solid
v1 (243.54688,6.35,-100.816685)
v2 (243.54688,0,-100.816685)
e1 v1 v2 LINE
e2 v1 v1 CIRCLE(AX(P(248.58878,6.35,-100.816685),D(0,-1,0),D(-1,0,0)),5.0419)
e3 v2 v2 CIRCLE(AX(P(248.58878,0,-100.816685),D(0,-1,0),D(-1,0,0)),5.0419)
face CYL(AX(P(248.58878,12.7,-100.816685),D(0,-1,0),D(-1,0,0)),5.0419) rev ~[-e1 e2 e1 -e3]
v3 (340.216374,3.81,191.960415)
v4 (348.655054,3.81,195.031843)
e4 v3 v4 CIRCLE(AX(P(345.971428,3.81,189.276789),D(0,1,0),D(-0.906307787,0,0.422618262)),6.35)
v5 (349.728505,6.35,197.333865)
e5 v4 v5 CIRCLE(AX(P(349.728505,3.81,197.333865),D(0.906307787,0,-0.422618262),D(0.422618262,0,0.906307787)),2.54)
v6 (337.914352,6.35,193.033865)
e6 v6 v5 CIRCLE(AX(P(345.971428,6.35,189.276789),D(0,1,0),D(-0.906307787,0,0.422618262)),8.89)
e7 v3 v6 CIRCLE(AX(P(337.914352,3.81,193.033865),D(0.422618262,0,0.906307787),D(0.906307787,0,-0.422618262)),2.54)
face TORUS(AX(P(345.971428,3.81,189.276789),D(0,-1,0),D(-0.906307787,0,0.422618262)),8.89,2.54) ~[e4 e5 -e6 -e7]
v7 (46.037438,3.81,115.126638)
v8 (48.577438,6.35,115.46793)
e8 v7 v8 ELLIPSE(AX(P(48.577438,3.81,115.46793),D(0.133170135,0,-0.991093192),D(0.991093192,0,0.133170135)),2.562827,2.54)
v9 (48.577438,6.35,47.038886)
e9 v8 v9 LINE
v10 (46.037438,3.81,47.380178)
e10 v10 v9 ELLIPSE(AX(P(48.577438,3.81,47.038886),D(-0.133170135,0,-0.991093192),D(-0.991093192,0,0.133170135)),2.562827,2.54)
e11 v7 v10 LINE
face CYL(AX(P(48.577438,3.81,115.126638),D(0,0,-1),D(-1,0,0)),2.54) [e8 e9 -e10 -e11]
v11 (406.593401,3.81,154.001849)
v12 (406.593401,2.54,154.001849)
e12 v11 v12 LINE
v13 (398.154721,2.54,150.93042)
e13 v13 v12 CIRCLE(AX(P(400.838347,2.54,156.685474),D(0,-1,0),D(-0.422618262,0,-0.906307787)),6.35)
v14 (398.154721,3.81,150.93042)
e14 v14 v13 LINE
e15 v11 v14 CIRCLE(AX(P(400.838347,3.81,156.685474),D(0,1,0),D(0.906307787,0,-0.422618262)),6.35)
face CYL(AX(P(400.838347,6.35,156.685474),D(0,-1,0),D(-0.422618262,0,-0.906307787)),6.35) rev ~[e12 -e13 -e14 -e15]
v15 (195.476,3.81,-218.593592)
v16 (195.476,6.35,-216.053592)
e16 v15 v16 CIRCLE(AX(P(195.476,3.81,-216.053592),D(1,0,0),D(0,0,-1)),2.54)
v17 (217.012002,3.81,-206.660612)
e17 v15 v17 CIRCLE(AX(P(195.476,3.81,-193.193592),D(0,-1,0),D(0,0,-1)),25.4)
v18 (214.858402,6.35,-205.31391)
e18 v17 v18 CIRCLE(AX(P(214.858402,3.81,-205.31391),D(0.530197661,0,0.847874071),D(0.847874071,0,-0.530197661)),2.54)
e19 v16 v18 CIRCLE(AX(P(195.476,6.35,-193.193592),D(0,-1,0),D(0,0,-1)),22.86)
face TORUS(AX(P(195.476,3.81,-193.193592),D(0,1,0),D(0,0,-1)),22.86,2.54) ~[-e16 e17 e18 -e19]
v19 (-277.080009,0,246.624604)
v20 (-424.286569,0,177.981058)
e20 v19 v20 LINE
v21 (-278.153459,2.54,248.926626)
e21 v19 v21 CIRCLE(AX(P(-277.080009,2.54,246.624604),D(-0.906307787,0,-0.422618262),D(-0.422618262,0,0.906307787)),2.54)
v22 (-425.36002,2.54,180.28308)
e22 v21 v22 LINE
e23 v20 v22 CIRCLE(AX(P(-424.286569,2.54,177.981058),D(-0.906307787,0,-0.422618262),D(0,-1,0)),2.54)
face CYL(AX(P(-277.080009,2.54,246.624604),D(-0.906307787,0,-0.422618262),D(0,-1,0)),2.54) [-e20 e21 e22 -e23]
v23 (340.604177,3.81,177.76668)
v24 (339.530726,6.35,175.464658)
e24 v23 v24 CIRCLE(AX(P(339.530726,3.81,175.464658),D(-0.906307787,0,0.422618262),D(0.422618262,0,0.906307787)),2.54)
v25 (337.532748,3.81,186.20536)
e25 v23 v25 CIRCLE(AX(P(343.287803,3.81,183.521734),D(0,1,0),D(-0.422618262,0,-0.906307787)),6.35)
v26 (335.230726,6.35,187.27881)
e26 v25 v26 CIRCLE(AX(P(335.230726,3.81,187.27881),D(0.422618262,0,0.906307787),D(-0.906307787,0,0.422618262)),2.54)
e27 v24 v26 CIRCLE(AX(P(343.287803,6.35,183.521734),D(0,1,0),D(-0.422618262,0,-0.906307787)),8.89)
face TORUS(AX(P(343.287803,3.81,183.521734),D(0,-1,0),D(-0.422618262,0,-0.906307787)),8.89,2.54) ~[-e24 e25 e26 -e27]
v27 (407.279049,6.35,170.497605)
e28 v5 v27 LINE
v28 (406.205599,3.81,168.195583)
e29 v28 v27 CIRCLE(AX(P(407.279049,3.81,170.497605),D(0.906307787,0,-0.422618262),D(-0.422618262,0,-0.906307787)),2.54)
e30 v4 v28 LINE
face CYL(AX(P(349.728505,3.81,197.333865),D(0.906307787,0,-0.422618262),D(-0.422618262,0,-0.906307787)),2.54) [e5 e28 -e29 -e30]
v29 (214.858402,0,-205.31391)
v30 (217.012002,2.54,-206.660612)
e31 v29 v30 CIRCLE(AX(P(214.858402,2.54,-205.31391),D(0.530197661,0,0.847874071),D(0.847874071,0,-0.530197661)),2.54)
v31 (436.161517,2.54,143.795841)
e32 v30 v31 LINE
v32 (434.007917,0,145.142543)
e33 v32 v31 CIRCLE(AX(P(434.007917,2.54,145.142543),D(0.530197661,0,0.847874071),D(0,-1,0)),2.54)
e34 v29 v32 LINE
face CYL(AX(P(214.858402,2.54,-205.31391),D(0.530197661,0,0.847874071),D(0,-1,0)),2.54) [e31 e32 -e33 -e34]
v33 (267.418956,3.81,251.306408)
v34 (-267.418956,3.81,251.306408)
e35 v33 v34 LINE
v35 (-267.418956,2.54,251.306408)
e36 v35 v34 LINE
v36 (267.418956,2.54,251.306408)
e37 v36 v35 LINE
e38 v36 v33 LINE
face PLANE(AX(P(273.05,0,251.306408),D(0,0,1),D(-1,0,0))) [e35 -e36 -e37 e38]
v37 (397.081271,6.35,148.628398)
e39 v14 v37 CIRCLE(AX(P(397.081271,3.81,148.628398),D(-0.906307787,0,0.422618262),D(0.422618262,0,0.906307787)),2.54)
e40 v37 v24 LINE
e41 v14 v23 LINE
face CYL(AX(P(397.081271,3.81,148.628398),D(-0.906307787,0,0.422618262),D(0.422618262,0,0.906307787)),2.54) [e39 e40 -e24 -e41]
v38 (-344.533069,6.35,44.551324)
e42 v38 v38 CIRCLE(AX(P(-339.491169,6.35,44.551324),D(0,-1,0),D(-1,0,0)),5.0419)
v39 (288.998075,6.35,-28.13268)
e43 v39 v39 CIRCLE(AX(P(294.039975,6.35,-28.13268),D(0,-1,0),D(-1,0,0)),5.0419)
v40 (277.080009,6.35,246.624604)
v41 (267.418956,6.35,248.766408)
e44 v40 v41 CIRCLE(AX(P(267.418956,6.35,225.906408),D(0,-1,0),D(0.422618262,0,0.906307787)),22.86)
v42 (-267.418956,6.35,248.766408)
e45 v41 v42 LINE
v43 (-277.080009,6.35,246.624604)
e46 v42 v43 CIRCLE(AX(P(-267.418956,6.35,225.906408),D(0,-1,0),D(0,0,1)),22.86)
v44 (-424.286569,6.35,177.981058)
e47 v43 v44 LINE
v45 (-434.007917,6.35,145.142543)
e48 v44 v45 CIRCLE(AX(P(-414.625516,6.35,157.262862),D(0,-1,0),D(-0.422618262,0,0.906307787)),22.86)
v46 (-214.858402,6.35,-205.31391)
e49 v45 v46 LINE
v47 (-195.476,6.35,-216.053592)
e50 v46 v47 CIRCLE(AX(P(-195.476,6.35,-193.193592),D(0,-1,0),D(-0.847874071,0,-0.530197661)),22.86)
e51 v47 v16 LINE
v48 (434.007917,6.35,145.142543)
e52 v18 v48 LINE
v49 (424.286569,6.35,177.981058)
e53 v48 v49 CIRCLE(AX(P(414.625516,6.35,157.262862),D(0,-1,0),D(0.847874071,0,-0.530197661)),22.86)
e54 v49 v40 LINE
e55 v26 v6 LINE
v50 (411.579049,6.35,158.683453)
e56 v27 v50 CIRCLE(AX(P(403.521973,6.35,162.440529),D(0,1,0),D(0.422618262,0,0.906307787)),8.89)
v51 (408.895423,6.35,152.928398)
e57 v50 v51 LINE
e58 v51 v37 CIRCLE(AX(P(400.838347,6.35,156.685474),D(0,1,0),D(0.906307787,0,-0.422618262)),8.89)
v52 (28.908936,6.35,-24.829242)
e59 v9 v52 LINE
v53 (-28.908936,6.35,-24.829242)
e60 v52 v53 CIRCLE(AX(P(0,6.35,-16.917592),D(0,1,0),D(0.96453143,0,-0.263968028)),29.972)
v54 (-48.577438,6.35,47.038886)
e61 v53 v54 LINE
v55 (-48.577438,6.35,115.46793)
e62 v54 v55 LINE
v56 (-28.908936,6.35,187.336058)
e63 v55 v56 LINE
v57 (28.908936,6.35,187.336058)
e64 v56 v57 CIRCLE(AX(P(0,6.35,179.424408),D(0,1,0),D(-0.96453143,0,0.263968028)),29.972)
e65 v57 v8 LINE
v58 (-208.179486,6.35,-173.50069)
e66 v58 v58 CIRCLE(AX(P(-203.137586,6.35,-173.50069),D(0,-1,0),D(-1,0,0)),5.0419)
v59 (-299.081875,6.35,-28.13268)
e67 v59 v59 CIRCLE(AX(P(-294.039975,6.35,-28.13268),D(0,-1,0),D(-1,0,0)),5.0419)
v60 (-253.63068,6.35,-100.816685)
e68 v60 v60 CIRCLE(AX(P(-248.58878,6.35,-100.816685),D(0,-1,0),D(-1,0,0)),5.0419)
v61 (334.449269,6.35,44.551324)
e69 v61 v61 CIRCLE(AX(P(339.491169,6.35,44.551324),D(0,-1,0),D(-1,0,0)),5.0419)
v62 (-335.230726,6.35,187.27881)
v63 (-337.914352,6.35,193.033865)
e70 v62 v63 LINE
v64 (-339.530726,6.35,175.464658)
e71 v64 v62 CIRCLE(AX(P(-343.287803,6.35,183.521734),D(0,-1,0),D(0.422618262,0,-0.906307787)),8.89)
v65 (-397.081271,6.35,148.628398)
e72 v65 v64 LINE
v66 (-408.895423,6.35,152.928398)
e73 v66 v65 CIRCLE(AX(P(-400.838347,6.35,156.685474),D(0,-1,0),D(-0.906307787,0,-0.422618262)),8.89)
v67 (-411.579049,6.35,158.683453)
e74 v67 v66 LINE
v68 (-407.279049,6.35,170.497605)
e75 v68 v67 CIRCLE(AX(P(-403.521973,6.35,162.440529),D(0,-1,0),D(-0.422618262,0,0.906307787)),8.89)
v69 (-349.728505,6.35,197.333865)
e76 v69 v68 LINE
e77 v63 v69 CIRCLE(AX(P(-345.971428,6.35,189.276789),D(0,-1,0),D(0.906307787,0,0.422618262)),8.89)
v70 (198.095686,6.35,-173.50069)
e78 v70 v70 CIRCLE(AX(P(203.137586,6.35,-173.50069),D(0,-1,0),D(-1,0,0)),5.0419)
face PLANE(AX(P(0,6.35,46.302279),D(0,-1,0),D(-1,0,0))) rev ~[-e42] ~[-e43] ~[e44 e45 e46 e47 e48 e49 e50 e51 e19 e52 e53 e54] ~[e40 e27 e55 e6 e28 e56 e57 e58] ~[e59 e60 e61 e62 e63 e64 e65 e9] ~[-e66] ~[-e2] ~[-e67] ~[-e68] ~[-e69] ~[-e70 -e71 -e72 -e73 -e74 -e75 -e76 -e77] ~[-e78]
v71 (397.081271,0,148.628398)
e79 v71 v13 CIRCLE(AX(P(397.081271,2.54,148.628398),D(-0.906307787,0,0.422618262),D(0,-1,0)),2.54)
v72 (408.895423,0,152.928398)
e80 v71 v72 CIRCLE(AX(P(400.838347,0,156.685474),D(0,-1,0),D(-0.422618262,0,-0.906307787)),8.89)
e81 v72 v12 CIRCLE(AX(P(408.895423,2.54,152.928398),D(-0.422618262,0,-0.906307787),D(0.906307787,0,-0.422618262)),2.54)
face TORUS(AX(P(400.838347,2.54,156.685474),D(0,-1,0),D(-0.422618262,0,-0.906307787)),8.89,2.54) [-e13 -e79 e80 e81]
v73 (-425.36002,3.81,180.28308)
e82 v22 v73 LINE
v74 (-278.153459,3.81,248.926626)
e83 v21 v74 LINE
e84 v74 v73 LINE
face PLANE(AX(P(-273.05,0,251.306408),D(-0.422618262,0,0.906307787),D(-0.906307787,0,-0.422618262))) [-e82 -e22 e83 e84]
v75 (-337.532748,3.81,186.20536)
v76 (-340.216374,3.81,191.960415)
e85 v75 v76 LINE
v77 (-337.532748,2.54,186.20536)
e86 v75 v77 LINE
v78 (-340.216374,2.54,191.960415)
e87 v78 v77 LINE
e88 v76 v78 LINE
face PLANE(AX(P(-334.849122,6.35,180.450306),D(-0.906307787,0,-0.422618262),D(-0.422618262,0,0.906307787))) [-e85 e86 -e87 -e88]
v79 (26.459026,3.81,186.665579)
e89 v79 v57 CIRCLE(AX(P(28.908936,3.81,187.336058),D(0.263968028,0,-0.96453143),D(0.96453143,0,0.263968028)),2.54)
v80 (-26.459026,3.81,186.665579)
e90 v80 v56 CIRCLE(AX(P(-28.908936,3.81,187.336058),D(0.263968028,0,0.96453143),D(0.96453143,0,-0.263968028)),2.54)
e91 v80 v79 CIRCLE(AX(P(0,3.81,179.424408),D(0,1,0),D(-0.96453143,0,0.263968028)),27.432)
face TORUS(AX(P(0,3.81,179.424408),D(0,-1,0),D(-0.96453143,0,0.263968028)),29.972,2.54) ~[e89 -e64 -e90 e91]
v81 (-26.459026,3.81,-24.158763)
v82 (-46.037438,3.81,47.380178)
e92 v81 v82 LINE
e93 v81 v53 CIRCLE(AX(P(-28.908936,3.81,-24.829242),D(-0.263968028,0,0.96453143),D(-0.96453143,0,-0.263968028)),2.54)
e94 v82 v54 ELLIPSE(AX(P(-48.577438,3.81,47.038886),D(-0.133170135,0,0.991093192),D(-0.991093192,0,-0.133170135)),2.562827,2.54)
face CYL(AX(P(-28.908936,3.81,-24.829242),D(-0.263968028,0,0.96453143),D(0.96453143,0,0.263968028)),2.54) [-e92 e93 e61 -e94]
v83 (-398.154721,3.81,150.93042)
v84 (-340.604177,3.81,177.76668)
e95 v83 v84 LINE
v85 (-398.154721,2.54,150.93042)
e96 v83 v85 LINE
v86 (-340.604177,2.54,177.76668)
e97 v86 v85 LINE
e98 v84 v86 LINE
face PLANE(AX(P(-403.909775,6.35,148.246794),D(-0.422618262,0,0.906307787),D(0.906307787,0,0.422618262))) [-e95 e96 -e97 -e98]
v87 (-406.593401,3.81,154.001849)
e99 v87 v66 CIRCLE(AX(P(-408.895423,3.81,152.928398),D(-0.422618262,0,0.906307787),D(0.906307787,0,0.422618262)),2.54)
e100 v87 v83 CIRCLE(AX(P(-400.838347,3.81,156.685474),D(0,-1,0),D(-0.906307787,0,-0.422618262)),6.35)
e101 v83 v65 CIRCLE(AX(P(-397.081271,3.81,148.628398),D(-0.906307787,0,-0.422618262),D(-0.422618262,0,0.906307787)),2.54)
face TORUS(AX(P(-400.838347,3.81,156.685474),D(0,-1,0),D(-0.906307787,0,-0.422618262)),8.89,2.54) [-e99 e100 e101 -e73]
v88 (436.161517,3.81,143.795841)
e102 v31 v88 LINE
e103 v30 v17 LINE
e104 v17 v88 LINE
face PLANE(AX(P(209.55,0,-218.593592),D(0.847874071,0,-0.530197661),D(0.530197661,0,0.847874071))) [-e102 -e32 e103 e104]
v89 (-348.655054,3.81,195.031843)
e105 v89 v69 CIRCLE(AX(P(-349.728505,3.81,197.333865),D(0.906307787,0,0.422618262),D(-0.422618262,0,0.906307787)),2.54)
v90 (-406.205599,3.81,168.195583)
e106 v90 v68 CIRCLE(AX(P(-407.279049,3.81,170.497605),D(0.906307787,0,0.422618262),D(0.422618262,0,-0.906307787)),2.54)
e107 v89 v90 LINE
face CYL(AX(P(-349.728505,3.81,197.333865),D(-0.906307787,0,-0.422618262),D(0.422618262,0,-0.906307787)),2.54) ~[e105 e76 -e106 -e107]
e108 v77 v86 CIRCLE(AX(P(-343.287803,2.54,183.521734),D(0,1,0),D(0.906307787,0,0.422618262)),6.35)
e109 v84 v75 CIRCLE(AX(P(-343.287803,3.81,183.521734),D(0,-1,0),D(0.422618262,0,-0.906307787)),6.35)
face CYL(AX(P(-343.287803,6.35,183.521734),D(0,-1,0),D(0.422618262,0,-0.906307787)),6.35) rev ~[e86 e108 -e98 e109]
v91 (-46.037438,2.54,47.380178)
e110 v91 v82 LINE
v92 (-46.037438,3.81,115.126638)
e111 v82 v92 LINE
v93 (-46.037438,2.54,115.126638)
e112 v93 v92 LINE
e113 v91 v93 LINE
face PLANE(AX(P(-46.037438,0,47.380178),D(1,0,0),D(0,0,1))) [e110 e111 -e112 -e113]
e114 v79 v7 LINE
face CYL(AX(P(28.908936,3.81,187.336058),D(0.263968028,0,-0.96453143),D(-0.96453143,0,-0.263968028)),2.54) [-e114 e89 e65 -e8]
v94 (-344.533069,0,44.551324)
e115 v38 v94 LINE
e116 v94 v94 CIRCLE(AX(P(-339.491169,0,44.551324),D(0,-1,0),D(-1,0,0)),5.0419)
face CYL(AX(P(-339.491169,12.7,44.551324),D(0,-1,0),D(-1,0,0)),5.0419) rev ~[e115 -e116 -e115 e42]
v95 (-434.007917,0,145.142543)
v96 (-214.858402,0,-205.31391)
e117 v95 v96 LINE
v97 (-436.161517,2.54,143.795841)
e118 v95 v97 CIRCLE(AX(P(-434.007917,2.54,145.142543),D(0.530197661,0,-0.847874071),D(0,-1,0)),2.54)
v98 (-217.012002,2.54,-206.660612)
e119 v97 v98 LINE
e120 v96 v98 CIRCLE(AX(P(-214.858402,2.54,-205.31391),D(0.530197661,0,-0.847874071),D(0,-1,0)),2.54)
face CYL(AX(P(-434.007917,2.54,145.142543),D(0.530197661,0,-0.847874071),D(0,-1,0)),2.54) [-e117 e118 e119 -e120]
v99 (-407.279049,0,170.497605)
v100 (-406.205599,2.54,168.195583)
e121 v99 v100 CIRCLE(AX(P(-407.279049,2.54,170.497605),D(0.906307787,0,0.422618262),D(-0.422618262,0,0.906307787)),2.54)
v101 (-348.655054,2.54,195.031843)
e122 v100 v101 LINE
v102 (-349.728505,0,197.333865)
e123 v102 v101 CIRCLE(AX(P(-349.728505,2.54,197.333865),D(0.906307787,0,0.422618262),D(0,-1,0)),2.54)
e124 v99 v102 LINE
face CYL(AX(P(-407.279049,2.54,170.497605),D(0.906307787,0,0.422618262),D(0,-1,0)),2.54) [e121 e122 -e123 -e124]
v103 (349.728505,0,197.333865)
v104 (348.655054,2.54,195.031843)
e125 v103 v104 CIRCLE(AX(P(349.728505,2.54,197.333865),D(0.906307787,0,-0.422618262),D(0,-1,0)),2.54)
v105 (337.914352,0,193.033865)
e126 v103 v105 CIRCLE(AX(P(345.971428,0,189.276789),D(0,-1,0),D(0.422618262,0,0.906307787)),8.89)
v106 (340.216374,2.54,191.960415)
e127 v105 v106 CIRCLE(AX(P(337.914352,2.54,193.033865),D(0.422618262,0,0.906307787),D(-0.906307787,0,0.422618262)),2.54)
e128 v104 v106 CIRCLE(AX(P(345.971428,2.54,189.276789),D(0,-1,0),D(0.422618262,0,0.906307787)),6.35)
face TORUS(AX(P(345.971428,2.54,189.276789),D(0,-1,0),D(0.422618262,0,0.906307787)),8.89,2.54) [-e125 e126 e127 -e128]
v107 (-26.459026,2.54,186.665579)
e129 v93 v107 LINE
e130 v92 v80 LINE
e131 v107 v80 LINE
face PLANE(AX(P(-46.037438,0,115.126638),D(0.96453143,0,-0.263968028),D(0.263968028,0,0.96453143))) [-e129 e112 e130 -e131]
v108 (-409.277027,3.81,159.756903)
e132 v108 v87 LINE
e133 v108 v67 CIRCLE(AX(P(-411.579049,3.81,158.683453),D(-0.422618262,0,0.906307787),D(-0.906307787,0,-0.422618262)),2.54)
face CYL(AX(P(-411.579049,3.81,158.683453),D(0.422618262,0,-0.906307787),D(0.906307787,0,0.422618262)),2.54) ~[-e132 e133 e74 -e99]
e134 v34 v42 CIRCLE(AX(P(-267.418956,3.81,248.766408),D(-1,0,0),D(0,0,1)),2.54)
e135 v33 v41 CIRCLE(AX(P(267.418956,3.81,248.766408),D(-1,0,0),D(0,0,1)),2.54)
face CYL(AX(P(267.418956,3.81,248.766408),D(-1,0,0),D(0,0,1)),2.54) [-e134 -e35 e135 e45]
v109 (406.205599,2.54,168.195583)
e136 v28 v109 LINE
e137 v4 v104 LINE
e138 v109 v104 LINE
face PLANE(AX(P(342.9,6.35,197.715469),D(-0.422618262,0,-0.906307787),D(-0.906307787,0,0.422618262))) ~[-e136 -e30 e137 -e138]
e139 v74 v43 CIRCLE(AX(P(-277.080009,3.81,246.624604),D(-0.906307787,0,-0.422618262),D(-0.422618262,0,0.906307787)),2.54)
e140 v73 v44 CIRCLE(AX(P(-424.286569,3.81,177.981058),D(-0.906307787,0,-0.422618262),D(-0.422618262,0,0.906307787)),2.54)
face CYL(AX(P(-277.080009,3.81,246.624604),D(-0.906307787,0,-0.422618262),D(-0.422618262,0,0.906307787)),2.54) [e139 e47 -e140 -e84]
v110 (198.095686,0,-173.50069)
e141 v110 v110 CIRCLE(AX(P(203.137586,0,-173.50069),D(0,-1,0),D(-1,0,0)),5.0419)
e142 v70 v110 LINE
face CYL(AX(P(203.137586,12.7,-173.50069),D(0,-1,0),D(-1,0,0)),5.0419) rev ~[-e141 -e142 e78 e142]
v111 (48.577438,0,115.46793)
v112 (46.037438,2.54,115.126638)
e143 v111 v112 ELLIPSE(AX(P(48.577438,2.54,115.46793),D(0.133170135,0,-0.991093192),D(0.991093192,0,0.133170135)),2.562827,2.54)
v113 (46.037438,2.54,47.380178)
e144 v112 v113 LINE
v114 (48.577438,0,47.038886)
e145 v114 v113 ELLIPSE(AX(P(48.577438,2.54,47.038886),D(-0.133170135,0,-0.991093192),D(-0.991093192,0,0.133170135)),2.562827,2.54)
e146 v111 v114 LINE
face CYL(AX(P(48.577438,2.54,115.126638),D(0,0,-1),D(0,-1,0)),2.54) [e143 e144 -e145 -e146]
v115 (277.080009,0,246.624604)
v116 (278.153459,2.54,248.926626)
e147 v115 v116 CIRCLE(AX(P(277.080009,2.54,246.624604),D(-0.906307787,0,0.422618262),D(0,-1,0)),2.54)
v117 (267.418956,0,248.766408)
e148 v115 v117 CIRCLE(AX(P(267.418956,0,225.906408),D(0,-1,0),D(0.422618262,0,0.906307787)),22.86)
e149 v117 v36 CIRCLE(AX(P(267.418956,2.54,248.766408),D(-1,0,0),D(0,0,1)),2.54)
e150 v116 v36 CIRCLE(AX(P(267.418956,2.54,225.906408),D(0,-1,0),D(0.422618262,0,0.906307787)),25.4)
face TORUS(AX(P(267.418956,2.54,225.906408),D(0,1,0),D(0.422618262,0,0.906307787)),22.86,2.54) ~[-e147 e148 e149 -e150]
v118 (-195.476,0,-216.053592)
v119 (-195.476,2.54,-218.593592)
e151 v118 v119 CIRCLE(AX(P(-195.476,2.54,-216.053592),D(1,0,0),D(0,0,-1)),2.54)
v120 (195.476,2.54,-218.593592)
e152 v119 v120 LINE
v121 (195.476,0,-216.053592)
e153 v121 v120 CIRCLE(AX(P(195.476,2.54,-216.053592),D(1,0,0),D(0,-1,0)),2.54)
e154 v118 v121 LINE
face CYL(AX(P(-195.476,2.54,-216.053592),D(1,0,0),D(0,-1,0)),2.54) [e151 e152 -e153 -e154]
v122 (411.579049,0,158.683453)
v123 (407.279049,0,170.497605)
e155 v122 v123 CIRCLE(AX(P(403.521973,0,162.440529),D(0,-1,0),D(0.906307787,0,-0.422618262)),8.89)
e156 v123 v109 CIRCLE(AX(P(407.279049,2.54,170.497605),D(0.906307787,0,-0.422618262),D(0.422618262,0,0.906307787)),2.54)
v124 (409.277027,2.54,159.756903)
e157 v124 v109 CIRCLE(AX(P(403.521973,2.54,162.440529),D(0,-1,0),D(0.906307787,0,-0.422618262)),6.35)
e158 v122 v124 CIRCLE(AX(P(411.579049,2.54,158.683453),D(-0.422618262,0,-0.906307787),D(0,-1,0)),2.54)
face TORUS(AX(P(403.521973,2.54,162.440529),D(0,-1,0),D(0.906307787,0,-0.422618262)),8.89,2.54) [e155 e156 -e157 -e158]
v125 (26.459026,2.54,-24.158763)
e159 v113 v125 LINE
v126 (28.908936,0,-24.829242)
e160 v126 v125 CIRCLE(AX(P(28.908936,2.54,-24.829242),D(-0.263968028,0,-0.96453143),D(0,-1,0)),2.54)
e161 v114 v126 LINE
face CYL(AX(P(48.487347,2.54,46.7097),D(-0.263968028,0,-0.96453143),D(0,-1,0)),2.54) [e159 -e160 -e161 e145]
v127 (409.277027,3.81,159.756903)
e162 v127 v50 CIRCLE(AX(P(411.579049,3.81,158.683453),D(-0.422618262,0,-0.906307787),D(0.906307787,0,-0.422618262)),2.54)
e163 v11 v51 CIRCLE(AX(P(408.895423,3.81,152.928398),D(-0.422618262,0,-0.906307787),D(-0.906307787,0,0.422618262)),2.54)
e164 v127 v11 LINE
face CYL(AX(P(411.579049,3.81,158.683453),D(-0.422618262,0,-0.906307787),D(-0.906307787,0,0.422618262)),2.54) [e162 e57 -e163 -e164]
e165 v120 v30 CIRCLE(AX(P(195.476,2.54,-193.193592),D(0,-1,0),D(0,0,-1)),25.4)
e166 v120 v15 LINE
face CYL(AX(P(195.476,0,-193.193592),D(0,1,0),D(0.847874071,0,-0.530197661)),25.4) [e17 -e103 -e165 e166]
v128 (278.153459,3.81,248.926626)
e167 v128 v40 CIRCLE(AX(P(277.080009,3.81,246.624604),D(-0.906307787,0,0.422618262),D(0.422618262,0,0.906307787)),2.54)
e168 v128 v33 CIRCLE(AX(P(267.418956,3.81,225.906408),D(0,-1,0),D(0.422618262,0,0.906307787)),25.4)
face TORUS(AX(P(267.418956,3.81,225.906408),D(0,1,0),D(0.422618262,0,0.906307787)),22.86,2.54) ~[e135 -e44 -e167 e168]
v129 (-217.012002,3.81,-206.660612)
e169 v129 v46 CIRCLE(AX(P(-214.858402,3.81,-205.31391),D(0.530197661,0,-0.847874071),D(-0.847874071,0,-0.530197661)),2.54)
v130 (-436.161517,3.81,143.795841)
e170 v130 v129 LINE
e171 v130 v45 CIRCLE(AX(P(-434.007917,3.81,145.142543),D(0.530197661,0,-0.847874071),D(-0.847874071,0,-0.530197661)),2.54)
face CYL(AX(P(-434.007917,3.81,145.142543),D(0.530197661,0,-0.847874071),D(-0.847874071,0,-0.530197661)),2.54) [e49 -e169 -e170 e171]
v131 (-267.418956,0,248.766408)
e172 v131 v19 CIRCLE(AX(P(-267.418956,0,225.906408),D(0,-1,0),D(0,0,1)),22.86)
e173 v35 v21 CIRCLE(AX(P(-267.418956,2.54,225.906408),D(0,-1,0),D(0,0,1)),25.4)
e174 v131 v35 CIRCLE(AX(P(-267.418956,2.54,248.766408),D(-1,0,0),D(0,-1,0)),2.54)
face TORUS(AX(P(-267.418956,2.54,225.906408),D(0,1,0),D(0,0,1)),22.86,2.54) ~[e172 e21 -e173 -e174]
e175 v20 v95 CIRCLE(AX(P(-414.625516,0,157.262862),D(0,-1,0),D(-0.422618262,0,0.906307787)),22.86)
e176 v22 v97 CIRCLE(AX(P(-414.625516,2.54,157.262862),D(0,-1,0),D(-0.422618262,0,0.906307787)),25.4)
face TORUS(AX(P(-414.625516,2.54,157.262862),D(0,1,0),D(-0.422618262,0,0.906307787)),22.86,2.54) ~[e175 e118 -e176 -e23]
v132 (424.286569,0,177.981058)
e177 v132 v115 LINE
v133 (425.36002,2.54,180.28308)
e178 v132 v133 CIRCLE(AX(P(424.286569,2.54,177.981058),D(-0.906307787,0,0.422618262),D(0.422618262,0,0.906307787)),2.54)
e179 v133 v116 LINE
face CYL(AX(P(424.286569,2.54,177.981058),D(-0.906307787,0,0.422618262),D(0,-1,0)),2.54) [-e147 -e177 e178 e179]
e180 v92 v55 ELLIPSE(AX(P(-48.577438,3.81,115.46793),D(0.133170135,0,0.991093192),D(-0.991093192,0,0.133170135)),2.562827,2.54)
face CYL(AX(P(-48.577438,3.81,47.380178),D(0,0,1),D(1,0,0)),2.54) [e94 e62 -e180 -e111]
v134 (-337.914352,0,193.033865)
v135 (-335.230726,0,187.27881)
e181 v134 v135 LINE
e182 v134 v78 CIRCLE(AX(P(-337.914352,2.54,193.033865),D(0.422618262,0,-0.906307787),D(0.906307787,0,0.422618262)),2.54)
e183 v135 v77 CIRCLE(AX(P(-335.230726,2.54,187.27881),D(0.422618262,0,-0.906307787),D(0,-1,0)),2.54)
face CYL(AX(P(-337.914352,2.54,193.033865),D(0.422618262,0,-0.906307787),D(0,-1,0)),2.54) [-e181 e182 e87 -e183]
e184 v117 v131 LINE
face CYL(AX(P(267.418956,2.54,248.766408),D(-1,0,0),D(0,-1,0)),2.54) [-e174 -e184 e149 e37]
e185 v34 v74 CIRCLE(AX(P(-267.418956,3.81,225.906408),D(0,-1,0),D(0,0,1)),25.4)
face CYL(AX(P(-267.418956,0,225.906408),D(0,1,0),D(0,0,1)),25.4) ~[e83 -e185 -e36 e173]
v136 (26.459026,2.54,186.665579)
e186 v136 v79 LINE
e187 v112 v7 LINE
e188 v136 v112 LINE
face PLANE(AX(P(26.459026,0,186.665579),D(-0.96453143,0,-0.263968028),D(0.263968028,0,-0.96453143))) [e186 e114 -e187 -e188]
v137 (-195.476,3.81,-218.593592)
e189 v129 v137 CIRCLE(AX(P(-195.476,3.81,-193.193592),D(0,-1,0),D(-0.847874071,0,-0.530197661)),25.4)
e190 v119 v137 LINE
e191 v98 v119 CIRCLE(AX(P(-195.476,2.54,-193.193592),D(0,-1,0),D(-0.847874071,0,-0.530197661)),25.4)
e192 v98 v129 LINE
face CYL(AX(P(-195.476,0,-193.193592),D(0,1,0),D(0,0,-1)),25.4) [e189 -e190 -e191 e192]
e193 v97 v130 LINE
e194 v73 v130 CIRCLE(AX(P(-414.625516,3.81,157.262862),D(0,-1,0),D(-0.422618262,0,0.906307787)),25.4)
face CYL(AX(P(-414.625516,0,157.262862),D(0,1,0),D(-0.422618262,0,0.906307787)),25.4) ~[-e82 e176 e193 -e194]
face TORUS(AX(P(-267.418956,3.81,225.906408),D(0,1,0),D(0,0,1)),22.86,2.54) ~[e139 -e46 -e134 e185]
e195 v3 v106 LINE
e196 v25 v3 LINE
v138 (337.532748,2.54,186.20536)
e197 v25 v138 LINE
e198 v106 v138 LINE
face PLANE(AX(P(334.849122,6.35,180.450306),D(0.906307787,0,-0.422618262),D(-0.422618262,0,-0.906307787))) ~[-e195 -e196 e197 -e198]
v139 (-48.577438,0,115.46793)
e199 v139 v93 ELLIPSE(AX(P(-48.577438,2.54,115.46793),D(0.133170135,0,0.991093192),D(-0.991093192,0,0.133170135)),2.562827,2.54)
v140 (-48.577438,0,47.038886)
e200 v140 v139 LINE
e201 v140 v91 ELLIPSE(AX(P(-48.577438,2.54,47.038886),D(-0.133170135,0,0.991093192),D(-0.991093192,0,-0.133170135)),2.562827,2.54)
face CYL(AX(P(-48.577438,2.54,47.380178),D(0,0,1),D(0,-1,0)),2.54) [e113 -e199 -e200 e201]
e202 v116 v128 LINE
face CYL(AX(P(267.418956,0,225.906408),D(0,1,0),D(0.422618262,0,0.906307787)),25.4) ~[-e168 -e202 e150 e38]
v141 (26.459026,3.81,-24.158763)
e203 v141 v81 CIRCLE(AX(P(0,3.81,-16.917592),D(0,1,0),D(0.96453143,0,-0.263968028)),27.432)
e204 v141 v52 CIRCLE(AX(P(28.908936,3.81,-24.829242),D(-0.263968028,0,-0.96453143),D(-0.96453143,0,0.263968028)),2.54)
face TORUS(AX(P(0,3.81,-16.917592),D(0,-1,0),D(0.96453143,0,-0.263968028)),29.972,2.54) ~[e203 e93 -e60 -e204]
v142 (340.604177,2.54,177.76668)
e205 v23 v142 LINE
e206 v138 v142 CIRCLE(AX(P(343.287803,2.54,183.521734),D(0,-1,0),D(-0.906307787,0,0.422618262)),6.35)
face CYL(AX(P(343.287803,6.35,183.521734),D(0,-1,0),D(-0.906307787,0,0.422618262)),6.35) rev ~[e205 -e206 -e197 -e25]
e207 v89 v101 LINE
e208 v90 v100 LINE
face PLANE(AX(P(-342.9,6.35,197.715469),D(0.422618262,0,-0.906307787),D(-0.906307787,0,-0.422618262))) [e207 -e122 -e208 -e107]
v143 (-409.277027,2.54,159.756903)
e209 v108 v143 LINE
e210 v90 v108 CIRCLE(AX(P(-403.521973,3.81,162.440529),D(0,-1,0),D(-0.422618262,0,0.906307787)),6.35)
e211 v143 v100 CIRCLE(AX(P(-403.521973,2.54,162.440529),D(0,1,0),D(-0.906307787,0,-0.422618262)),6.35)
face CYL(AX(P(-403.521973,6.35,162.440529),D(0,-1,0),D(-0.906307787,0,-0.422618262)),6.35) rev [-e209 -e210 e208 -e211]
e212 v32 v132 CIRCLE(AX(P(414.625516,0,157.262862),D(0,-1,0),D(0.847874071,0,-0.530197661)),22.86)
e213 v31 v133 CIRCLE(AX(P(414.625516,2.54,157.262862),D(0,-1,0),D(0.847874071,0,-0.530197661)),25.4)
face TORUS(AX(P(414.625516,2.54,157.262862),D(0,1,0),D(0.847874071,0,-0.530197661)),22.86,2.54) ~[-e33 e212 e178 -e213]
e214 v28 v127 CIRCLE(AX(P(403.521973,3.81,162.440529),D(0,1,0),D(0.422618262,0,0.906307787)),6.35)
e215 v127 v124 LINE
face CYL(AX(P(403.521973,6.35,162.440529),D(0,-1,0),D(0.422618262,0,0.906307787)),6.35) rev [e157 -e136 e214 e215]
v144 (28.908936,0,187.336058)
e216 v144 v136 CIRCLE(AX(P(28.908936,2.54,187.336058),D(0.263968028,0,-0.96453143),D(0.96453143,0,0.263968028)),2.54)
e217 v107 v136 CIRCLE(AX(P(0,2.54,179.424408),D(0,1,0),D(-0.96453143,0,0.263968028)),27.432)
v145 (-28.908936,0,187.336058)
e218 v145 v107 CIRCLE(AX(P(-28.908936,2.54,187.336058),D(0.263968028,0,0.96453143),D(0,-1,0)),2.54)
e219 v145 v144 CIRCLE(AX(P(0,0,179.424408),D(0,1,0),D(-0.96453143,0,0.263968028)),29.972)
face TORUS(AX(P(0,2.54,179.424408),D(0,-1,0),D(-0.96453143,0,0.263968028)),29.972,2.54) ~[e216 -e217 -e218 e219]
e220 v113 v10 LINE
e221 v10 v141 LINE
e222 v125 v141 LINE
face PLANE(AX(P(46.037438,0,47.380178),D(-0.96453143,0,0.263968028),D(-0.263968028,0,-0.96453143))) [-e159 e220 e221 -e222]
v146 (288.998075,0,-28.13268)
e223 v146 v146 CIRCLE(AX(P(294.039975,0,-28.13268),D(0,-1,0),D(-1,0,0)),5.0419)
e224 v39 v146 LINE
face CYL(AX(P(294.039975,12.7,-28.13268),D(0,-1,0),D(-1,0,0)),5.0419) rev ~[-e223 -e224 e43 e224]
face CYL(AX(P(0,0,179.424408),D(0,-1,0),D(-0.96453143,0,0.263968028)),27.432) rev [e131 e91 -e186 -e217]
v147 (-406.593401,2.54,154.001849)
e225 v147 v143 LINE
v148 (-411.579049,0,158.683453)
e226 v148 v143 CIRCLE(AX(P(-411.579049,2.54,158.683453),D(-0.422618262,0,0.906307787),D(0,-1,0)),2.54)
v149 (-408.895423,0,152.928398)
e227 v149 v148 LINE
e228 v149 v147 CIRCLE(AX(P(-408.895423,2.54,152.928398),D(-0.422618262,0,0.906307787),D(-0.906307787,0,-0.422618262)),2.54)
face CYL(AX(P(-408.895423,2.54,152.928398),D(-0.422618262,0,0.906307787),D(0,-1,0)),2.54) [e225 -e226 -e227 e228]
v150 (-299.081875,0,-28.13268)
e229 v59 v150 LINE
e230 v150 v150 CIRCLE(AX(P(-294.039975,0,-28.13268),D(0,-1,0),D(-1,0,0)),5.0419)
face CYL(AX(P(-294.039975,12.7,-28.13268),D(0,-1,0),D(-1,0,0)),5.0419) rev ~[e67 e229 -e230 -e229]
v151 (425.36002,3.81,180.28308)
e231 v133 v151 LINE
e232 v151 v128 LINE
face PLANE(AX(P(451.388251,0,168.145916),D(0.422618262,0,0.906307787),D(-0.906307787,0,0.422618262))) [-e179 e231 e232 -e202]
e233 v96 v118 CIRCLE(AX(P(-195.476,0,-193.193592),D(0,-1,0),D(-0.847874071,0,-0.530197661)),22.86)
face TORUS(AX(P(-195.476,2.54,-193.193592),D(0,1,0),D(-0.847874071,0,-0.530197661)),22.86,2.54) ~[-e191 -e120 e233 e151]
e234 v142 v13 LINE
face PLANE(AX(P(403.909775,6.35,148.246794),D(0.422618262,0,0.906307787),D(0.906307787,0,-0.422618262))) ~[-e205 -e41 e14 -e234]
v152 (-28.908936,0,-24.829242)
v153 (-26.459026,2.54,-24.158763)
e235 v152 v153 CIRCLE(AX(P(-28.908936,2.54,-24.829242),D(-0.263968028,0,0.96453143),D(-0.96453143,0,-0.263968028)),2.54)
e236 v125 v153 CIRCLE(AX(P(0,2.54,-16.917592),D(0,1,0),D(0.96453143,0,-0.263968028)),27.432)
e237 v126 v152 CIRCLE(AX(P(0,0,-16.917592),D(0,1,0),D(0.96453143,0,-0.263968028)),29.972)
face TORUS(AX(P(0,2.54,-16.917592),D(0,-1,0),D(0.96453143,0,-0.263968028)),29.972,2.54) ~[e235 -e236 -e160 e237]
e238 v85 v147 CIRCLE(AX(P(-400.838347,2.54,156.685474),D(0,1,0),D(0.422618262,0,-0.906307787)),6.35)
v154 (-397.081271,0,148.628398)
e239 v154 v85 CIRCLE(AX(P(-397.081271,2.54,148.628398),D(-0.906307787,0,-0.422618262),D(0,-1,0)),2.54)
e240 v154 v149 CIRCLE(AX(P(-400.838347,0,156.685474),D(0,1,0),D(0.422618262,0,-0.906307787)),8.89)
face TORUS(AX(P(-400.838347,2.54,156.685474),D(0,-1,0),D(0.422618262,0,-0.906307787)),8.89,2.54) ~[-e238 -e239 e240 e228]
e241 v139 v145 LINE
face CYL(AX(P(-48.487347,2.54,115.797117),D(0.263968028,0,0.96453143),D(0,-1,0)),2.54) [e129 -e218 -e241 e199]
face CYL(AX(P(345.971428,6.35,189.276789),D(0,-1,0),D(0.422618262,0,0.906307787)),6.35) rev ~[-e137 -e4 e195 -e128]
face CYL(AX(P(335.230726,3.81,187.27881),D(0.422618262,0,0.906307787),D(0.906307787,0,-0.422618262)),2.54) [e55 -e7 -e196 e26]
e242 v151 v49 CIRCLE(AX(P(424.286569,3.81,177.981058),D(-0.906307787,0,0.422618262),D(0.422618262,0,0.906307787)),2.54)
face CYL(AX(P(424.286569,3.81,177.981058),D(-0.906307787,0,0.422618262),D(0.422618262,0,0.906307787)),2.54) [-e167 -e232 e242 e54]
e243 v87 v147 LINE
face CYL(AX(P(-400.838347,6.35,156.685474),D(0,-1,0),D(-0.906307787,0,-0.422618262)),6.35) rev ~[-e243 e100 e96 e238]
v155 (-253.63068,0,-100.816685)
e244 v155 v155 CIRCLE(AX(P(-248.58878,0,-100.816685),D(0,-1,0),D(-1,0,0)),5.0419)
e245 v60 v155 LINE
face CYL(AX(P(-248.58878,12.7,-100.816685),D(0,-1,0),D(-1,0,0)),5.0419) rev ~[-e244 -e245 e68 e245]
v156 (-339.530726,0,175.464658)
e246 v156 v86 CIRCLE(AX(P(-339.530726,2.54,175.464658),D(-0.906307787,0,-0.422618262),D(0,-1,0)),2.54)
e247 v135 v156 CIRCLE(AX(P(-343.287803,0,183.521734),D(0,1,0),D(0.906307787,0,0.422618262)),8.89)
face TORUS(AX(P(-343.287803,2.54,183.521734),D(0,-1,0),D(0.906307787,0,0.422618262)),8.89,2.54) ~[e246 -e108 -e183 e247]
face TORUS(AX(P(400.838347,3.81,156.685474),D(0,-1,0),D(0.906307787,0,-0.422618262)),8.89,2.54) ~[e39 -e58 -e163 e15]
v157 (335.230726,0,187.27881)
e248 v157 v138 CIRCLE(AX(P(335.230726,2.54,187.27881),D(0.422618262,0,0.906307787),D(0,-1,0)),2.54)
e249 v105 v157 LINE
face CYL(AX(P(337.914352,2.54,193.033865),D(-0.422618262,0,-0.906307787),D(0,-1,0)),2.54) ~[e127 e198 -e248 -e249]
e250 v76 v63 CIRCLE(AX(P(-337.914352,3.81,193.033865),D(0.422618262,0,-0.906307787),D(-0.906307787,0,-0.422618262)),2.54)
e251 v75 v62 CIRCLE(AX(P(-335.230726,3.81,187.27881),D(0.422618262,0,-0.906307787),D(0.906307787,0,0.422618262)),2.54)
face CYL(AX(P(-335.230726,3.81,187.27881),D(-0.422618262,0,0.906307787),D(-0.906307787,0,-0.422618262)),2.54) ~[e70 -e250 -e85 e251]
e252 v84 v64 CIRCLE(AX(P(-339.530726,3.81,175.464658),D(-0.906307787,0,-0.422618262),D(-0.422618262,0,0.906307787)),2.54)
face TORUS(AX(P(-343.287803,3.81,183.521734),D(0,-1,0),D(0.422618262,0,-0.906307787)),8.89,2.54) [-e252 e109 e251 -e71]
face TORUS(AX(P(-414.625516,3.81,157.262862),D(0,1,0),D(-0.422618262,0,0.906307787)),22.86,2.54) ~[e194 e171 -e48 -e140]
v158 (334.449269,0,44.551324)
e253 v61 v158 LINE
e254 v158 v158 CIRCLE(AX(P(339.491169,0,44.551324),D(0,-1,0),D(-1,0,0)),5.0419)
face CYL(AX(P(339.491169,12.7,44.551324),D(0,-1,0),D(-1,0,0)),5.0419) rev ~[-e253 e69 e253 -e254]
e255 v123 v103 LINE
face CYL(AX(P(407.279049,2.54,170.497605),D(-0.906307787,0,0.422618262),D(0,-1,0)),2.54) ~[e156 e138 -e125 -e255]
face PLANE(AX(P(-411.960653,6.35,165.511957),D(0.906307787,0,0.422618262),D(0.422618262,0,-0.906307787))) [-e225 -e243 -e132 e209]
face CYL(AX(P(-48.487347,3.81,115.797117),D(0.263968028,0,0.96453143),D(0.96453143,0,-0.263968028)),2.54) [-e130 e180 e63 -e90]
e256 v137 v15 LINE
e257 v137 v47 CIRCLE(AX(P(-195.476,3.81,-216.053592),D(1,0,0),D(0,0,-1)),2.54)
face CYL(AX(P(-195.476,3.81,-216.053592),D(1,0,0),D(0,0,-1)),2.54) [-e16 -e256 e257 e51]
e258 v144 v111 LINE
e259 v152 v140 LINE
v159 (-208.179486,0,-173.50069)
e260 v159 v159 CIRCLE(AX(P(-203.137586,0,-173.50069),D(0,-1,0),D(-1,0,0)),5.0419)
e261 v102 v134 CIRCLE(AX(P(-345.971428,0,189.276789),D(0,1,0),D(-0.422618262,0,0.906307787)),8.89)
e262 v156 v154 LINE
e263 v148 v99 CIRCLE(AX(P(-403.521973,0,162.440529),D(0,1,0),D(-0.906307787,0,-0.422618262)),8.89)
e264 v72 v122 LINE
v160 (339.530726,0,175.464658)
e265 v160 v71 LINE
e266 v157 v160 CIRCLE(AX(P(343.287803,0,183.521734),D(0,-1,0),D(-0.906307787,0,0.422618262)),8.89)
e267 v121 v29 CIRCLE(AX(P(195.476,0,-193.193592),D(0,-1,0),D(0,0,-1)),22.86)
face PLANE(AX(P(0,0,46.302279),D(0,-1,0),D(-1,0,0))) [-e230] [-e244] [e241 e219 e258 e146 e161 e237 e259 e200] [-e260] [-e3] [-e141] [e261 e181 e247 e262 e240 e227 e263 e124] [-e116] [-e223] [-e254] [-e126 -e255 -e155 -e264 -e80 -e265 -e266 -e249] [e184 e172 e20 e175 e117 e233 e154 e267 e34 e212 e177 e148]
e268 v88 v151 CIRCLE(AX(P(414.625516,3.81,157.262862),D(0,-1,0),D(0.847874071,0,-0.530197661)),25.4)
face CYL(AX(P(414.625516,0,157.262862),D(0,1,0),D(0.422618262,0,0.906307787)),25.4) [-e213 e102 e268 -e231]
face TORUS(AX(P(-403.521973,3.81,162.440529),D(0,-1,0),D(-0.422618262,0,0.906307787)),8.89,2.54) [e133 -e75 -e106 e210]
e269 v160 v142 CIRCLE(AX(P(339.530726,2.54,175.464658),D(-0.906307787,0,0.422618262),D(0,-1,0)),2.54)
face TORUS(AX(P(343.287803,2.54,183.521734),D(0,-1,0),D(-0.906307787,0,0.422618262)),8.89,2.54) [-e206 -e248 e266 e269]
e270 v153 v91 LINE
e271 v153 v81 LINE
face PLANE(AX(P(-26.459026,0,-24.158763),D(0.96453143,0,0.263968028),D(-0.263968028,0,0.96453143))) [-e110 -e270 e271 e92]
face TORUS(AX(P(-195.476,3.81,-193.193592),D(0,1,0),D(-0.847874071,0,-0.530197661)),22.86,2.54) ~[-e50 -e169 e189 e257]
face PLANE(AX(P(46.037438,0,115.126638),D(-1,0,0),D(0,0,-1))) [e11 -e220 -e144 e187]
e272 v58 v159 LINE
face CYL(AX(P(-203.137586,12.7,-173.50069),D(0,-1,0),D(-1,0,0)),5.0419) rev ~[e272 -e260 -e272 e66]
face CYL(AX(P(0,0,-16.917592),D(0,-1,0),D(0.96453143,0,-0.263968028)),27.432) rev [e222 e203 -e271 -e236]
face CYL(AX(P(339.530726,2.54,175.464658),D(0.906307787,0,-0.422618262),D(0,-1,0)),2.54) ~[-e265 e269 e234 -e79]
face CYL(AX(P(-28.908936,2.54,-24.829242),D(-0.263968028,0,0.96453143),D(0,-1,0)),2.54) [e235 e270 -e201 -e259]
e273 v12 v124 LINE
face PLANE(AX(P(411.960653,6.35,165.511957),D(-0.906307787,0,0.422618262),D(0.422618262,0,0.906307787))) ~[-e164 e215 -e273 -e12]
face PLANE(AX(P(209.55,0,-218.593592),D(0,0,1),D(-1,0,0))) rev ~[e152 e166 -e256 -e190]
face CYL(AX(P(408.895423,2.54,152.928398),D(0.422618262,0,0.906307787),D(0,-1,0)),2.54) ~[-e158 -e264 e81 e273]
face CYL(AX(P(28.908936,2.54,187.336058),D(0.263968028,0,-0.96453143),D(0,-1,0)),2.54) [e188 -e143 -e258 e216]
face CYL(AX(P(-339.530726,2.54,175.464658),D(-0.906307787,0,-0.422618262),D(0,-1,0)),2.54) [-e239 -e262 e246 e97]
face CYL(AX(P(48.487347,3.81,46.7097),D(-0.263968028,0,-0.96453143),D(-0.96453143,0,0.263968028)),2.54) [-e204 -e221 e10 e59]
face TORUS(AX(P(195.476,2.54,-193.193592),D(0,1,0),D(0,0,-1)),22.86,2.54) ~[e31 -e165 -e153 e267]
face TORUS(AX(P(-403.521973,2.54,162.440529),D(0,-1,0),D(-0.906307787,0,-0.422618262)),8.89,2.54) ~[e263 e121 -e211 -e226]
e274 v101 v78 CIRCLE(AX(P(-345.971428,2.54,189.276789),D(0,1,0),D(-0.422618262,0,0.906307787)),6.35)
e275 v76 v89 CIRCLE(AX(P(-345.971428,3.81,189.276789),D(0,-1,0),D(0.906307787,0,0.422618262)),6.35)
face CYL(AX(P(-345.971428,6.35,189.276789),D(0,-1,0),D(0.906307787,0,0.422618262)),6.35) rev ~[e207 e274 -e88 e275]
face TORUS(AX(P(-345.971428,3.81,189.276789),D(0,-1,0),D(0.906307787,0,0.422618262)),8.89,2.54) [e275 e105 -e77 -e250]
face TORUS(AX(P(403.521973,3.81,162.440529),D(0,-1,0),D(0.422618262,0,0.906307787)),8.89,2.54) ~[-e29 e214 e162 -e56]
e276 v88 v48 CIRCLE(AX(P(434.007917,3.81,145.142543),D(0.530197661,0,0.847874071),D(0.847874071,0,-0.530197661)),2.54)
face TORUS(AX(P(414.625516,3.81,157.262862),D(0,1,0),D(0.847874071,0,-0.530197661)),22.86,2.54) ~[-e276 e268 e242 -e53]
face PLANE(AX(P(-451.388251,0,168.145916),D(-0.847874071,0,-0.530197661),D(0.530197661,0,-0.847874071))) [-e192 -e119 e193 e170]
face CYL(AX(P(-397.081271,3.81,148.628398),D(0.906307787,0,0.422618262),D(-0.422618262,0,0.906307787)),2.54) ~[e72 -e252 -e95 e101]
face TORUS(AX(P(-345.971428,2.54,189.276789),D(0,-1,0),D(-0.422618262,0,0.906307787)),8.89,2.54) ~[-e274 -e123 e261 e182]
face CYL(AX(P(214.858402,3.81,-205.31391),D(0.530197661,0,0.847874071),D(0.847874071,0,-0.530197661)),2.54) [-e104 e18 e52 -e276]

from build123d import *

# Parameters (mm, degrees)
BOSS_EXTRUDE1_DEPTH         = 6.35
CUT_EXTRUDE1_DEPTH          = 7.35
FILLET3_R                   = 6.35
FILLET4_R                   = 2.54
FILLET3_OF_MIRROR1_R        = 6.35
FILLET4_OF_MIRROR1_R        = 2.54
F_3_8_CLEARANCE_HOLE1_D     = 10.0838
F_3_8_CLEARANCE_HOLE1_DEPTH = 6.35
FILLET1_R                   = 25.4
FILLET2_R                   = 2.54
FILLET5_R                   = 2.54


with BuildPart() as part:
    # Sketch1 → Boss-Extrude1 (new body)
    with BuildSketch(Plane(origin=(0, 0, 0), x_dir=(1, 0, 0), z_dir=(0, 1, 0))):
        Polygon((451.38825085, -168.145916122), (273.05, -251.306408235), (-273.05, -251.306408235), (-451.38825085, -168.145916122), (-209.55, 218.593591765), (0, 218.593591765), (209.55, 218.593591765), align=None)
        with BuildLine():
            Line((46.037437645, -47.380178317), (26.459026194, 24.158762711))
            ThreePointArc((26.459026194, 24.158762711), (0, 44.349591757), (-26.459026194, 24.158762711))
            Line((-26.459026194, 24.158762711), (-46.037437638, -47.380178321))
            Line((-46.037437638, -47.380178321), (-46.037437643, -115.126638135))
            Line((-46.037437643, -115.126638135), (-26.459026194, -186.665579187))
            ThreePointArc((-26.459026194, -186.665579187), (-1e-09, -206.856408235), (26.459026194, -186.665579189))
            Line((26.459026194, -186.665579189), (46.037437641, -115.126638134))
            Line((46.037437641, -115.126638134), (46.037437645, -47.380178317))
        make_face(mode=Mode.SUBTRACT)
    extrude(amount=BOSS_EXTRUDE1_DEPTH)

    # Sketch2 → Cut-Extrude1 (cut, through all)
    with BuildSketch(Plane(origin=(0, 6.35, 0), x_dir=(1, 0, 0), z_dir=(0, 1, 0))):
        Polygon((-342.9, -197.715468957), (-411.960653372, -165.511957412), (-403.909775486, -148.246794069), (-334.849122114, -180.450305614), align=None)
    cut_extrude1 = extrude(amount=-CUT_EXTRUDE1_DEPTH, mode=Mode.SUBTRACT)

    # Fillet3
    fillet3_edges = [part.edges().sort_by_distance(p)[0] for p in [
        (-334.849122114, 3.175, 180.450305614),
        (-342.9, 3.175, 197.715468957),
        (-411.960653372, 3.175, 165.511957412),
        (-403.909775486, 3.175, 148.246794069),
    ]]
    fillet(fillet3_edges, radius=FILLET3_R)

    # Fillet4
    fillet4_edges = [part.edges().sort_by_distance(p)[0] for p in [
        (-369.3794488, 6.35, 164.348549841),
        (-369.3794488, 0, 164.348549841),
        (-338.874561057, 6.35, 189.082887285),
        (-338.874561057, 0, 189.082887285),
        (-377.430326686, 6.35, 181.613713184),
        (-377.430326686, 0, 181.613713184),
        (-407.935214429, 6.35, 156.87937574),
        (-407.935214429, 0, 156.87937574),
        (-337.320754382, 6.35, 181.349906189),
        (-337.320754382, 0, 181.349906189),
        (-343.799600576, 6.35, 195.243836689),
        (-343.799600576, 0, 195.243836689),
        (-409.489021104, 6.35, 164.612356836),
        (-409.489021104, 0, 164.612356836),
        (-403.010174911, 6.35, 150.718426337),
        (-403.010174911, 0, 150.718426337),
    ]]
    fillet(fillet4_edges, radius=FILLET4_R)

    # Mirror1: Cut-Extrude1 across plane
    add(cut_extrude1.mirror(Plane(origin=(0, 0, 0), x_dir=(0, 0, 1), z_dir=(1, 0, 0))), mode=Mode.SUBTRACT)

    # Fillet3 of Mirror1
    fillet3_of_mirror1_edges = [part.edges().sort_by_distance(p)[0] for p in [
        (334.849122114, 3.175, 180.450305614),
        (342.9, 3.175, 197.715468957),
        (411.960653372, 3.175, 165.511957412),
        (403.909775486, 3.175, 148.246794069),
    ]]
    fillet(fillet3_of_mirror1_edges, radius=FILLET3_OF_MIRROR1_R)

    # Fillet4 of Mirror1
    fillet4_of_mirror1_edges = [part.edges().sort_by_distance(p)[0] for p in [
        (369.3794488, 6.35, 164.348549841),
        (369.3794488, 0, 164.348549841),
        (338.874561057, 6.35, 189.082887285),
        (338.874561057, 0, 189.082887285),
        (377.430326686, 6.35, 181.613713184),
        (377.430326686, 0, 181.613713184),
        (407.935214429, 6.35, 156.87937574),
        (407.935214429, 0, 156.87937574),
        (337.320754382, 6.35, 181.349906189),
        (337.320754382, 0, 181.349906189),
        (343.799600576, 6.35, 195.243836689),
        (343.799600576, 0, 195.243836689),
        (409.489021104, 6.35, 164.612356836),
        (409.489021104, 0, 164.612356836),
        (403.010174911, 6.35, 150.718426337),
        (403.010174911, 0, 150.718426337),
    ]]
    fillet(fillet4_of_mirror1_edges, radius=FILLET4_OF_MIRROR1_R)

    # 3/8 Clearance Hole1
    with Locations(Plane(origin=(0, 6.35, 0), x_dir=(1, 0, 0), z_dir=(0, 1, 0))):
        with Locations((339.491169359, -44.551324404), (294.039974906, 28.132680355), (248.588780453, 100.816685114), (203.137586, 173.500689873), (-203.137586, 173.500689873), (-248.588780453, 100.816685114), (-294.039974906, 28.132680355), (-339.491169359, -44.551324404)):
            Hole(F_3_8_CLEARANCE_HOLE1_D / 2, depth=F_3_8_CLEARANCE_HOLE1_DEPTH)

    # Fillet1
    fillet1_edges = [part.edges().sort_by_distance(p)[0] for p in [
        (209.55, 3.175, -218.593591765),
        (451.38825085, 3.175, 168.145916122),
        (273.05, 3.175, 251.306408235),
        (-273.05, 3.175, 251.306408235),
        (-451.38825085, 3.175, 168.145916122),
        (-209.55, 3.175, -218.593591765),
    ]]
    fillet(fillet1_edges, radius=FILLET1_R)

    # Fillet2
    fillet2_edges = [part.edges().sort_by_distance(p)[0] for p in [
        (0, 0, -44.349591757),
        (-36.248231916, 0, 11.610707805),
        (-46.03743764, 0, 81.253408228),
        (-36.248231918, 0, 150.896108661),
        (0, 0, 206.856408235),
        (36.248231917, 0, 150.896108662),
        (46.037437643, 0, 81.253408226),
        (36.24823192, 0, 11.610707803),
        (0, 6.35, -44.349591757),
        (-36.248231916, 6.35, 11.610707805),
        (-46.03743764, 6.35, 81.253408228),
        (-36.248231918, 6.35, 150.896108661),
        (0, 6.35, 206.856408235),
        (36.248231917, 6.35, 150.896108662),
        (46.037437643, 6.35, 81.253408226),
        (36.24823192, 6.35, 11.610707803),
    ]]
    fillet(fillet2_edges, radius=FILLET2_R)

    # Fillet5
    fillet5_edges = [part.edges().sort_by_distance(p)[0] for p in [
        (-326.586759431, 0, -31.432385512),
        (-326.586759431, 6.35, -31.432385512),
        (0, 0, -218.593591765),
        (326.586759431, 0, -31.432385512),
        (351.756739502, 0, 214.604852857),
        (0, 0, 251.306408235),
        (-351.756739502, 0, 214.604852857),
        (272.916521763, 0, 250.704326816),
        (438.980720898, 0, 164.472853689),
        (-272.916521763, 0, 250.704326816),
        (-438.980720898, 0, 164.472853689),
        (207.786517704, 0, -215.410953475),
        (-207.786517704, 0, -215.410953475),
        (0, 6.35, -218.593591765),
        (0, 6.35, 251.306408235),
        (351.756739502, 6.35, 214.604852857),
        (272.916521763, 6.35, 250.704326816),
        (-272.916521763, 6.35, 250.704326816),
        (207.786517704, 6.35, -215.410953475),
        (-207.786517704, 6.35, -215.410953475),
        (326.586759431, 6.35, -31.432385512),
        (-351.756739502, 6.35, 214.604852857),
        (-438.980720898, 6.35, 164.472853689),
        (438.980720898, 6.35, 164.472853689),
        (-326.586759431, 6.35, -31.432385512),
        (-351.756739502, 6.35, 214.604852857),
        (351.756739502, 6.35, 214.604852857),
        (326.586759431, 6.35, -31.432385512),
    ]]
    fillet(fillet5_edges, radius=FILLET5_R)


solid = part.part
